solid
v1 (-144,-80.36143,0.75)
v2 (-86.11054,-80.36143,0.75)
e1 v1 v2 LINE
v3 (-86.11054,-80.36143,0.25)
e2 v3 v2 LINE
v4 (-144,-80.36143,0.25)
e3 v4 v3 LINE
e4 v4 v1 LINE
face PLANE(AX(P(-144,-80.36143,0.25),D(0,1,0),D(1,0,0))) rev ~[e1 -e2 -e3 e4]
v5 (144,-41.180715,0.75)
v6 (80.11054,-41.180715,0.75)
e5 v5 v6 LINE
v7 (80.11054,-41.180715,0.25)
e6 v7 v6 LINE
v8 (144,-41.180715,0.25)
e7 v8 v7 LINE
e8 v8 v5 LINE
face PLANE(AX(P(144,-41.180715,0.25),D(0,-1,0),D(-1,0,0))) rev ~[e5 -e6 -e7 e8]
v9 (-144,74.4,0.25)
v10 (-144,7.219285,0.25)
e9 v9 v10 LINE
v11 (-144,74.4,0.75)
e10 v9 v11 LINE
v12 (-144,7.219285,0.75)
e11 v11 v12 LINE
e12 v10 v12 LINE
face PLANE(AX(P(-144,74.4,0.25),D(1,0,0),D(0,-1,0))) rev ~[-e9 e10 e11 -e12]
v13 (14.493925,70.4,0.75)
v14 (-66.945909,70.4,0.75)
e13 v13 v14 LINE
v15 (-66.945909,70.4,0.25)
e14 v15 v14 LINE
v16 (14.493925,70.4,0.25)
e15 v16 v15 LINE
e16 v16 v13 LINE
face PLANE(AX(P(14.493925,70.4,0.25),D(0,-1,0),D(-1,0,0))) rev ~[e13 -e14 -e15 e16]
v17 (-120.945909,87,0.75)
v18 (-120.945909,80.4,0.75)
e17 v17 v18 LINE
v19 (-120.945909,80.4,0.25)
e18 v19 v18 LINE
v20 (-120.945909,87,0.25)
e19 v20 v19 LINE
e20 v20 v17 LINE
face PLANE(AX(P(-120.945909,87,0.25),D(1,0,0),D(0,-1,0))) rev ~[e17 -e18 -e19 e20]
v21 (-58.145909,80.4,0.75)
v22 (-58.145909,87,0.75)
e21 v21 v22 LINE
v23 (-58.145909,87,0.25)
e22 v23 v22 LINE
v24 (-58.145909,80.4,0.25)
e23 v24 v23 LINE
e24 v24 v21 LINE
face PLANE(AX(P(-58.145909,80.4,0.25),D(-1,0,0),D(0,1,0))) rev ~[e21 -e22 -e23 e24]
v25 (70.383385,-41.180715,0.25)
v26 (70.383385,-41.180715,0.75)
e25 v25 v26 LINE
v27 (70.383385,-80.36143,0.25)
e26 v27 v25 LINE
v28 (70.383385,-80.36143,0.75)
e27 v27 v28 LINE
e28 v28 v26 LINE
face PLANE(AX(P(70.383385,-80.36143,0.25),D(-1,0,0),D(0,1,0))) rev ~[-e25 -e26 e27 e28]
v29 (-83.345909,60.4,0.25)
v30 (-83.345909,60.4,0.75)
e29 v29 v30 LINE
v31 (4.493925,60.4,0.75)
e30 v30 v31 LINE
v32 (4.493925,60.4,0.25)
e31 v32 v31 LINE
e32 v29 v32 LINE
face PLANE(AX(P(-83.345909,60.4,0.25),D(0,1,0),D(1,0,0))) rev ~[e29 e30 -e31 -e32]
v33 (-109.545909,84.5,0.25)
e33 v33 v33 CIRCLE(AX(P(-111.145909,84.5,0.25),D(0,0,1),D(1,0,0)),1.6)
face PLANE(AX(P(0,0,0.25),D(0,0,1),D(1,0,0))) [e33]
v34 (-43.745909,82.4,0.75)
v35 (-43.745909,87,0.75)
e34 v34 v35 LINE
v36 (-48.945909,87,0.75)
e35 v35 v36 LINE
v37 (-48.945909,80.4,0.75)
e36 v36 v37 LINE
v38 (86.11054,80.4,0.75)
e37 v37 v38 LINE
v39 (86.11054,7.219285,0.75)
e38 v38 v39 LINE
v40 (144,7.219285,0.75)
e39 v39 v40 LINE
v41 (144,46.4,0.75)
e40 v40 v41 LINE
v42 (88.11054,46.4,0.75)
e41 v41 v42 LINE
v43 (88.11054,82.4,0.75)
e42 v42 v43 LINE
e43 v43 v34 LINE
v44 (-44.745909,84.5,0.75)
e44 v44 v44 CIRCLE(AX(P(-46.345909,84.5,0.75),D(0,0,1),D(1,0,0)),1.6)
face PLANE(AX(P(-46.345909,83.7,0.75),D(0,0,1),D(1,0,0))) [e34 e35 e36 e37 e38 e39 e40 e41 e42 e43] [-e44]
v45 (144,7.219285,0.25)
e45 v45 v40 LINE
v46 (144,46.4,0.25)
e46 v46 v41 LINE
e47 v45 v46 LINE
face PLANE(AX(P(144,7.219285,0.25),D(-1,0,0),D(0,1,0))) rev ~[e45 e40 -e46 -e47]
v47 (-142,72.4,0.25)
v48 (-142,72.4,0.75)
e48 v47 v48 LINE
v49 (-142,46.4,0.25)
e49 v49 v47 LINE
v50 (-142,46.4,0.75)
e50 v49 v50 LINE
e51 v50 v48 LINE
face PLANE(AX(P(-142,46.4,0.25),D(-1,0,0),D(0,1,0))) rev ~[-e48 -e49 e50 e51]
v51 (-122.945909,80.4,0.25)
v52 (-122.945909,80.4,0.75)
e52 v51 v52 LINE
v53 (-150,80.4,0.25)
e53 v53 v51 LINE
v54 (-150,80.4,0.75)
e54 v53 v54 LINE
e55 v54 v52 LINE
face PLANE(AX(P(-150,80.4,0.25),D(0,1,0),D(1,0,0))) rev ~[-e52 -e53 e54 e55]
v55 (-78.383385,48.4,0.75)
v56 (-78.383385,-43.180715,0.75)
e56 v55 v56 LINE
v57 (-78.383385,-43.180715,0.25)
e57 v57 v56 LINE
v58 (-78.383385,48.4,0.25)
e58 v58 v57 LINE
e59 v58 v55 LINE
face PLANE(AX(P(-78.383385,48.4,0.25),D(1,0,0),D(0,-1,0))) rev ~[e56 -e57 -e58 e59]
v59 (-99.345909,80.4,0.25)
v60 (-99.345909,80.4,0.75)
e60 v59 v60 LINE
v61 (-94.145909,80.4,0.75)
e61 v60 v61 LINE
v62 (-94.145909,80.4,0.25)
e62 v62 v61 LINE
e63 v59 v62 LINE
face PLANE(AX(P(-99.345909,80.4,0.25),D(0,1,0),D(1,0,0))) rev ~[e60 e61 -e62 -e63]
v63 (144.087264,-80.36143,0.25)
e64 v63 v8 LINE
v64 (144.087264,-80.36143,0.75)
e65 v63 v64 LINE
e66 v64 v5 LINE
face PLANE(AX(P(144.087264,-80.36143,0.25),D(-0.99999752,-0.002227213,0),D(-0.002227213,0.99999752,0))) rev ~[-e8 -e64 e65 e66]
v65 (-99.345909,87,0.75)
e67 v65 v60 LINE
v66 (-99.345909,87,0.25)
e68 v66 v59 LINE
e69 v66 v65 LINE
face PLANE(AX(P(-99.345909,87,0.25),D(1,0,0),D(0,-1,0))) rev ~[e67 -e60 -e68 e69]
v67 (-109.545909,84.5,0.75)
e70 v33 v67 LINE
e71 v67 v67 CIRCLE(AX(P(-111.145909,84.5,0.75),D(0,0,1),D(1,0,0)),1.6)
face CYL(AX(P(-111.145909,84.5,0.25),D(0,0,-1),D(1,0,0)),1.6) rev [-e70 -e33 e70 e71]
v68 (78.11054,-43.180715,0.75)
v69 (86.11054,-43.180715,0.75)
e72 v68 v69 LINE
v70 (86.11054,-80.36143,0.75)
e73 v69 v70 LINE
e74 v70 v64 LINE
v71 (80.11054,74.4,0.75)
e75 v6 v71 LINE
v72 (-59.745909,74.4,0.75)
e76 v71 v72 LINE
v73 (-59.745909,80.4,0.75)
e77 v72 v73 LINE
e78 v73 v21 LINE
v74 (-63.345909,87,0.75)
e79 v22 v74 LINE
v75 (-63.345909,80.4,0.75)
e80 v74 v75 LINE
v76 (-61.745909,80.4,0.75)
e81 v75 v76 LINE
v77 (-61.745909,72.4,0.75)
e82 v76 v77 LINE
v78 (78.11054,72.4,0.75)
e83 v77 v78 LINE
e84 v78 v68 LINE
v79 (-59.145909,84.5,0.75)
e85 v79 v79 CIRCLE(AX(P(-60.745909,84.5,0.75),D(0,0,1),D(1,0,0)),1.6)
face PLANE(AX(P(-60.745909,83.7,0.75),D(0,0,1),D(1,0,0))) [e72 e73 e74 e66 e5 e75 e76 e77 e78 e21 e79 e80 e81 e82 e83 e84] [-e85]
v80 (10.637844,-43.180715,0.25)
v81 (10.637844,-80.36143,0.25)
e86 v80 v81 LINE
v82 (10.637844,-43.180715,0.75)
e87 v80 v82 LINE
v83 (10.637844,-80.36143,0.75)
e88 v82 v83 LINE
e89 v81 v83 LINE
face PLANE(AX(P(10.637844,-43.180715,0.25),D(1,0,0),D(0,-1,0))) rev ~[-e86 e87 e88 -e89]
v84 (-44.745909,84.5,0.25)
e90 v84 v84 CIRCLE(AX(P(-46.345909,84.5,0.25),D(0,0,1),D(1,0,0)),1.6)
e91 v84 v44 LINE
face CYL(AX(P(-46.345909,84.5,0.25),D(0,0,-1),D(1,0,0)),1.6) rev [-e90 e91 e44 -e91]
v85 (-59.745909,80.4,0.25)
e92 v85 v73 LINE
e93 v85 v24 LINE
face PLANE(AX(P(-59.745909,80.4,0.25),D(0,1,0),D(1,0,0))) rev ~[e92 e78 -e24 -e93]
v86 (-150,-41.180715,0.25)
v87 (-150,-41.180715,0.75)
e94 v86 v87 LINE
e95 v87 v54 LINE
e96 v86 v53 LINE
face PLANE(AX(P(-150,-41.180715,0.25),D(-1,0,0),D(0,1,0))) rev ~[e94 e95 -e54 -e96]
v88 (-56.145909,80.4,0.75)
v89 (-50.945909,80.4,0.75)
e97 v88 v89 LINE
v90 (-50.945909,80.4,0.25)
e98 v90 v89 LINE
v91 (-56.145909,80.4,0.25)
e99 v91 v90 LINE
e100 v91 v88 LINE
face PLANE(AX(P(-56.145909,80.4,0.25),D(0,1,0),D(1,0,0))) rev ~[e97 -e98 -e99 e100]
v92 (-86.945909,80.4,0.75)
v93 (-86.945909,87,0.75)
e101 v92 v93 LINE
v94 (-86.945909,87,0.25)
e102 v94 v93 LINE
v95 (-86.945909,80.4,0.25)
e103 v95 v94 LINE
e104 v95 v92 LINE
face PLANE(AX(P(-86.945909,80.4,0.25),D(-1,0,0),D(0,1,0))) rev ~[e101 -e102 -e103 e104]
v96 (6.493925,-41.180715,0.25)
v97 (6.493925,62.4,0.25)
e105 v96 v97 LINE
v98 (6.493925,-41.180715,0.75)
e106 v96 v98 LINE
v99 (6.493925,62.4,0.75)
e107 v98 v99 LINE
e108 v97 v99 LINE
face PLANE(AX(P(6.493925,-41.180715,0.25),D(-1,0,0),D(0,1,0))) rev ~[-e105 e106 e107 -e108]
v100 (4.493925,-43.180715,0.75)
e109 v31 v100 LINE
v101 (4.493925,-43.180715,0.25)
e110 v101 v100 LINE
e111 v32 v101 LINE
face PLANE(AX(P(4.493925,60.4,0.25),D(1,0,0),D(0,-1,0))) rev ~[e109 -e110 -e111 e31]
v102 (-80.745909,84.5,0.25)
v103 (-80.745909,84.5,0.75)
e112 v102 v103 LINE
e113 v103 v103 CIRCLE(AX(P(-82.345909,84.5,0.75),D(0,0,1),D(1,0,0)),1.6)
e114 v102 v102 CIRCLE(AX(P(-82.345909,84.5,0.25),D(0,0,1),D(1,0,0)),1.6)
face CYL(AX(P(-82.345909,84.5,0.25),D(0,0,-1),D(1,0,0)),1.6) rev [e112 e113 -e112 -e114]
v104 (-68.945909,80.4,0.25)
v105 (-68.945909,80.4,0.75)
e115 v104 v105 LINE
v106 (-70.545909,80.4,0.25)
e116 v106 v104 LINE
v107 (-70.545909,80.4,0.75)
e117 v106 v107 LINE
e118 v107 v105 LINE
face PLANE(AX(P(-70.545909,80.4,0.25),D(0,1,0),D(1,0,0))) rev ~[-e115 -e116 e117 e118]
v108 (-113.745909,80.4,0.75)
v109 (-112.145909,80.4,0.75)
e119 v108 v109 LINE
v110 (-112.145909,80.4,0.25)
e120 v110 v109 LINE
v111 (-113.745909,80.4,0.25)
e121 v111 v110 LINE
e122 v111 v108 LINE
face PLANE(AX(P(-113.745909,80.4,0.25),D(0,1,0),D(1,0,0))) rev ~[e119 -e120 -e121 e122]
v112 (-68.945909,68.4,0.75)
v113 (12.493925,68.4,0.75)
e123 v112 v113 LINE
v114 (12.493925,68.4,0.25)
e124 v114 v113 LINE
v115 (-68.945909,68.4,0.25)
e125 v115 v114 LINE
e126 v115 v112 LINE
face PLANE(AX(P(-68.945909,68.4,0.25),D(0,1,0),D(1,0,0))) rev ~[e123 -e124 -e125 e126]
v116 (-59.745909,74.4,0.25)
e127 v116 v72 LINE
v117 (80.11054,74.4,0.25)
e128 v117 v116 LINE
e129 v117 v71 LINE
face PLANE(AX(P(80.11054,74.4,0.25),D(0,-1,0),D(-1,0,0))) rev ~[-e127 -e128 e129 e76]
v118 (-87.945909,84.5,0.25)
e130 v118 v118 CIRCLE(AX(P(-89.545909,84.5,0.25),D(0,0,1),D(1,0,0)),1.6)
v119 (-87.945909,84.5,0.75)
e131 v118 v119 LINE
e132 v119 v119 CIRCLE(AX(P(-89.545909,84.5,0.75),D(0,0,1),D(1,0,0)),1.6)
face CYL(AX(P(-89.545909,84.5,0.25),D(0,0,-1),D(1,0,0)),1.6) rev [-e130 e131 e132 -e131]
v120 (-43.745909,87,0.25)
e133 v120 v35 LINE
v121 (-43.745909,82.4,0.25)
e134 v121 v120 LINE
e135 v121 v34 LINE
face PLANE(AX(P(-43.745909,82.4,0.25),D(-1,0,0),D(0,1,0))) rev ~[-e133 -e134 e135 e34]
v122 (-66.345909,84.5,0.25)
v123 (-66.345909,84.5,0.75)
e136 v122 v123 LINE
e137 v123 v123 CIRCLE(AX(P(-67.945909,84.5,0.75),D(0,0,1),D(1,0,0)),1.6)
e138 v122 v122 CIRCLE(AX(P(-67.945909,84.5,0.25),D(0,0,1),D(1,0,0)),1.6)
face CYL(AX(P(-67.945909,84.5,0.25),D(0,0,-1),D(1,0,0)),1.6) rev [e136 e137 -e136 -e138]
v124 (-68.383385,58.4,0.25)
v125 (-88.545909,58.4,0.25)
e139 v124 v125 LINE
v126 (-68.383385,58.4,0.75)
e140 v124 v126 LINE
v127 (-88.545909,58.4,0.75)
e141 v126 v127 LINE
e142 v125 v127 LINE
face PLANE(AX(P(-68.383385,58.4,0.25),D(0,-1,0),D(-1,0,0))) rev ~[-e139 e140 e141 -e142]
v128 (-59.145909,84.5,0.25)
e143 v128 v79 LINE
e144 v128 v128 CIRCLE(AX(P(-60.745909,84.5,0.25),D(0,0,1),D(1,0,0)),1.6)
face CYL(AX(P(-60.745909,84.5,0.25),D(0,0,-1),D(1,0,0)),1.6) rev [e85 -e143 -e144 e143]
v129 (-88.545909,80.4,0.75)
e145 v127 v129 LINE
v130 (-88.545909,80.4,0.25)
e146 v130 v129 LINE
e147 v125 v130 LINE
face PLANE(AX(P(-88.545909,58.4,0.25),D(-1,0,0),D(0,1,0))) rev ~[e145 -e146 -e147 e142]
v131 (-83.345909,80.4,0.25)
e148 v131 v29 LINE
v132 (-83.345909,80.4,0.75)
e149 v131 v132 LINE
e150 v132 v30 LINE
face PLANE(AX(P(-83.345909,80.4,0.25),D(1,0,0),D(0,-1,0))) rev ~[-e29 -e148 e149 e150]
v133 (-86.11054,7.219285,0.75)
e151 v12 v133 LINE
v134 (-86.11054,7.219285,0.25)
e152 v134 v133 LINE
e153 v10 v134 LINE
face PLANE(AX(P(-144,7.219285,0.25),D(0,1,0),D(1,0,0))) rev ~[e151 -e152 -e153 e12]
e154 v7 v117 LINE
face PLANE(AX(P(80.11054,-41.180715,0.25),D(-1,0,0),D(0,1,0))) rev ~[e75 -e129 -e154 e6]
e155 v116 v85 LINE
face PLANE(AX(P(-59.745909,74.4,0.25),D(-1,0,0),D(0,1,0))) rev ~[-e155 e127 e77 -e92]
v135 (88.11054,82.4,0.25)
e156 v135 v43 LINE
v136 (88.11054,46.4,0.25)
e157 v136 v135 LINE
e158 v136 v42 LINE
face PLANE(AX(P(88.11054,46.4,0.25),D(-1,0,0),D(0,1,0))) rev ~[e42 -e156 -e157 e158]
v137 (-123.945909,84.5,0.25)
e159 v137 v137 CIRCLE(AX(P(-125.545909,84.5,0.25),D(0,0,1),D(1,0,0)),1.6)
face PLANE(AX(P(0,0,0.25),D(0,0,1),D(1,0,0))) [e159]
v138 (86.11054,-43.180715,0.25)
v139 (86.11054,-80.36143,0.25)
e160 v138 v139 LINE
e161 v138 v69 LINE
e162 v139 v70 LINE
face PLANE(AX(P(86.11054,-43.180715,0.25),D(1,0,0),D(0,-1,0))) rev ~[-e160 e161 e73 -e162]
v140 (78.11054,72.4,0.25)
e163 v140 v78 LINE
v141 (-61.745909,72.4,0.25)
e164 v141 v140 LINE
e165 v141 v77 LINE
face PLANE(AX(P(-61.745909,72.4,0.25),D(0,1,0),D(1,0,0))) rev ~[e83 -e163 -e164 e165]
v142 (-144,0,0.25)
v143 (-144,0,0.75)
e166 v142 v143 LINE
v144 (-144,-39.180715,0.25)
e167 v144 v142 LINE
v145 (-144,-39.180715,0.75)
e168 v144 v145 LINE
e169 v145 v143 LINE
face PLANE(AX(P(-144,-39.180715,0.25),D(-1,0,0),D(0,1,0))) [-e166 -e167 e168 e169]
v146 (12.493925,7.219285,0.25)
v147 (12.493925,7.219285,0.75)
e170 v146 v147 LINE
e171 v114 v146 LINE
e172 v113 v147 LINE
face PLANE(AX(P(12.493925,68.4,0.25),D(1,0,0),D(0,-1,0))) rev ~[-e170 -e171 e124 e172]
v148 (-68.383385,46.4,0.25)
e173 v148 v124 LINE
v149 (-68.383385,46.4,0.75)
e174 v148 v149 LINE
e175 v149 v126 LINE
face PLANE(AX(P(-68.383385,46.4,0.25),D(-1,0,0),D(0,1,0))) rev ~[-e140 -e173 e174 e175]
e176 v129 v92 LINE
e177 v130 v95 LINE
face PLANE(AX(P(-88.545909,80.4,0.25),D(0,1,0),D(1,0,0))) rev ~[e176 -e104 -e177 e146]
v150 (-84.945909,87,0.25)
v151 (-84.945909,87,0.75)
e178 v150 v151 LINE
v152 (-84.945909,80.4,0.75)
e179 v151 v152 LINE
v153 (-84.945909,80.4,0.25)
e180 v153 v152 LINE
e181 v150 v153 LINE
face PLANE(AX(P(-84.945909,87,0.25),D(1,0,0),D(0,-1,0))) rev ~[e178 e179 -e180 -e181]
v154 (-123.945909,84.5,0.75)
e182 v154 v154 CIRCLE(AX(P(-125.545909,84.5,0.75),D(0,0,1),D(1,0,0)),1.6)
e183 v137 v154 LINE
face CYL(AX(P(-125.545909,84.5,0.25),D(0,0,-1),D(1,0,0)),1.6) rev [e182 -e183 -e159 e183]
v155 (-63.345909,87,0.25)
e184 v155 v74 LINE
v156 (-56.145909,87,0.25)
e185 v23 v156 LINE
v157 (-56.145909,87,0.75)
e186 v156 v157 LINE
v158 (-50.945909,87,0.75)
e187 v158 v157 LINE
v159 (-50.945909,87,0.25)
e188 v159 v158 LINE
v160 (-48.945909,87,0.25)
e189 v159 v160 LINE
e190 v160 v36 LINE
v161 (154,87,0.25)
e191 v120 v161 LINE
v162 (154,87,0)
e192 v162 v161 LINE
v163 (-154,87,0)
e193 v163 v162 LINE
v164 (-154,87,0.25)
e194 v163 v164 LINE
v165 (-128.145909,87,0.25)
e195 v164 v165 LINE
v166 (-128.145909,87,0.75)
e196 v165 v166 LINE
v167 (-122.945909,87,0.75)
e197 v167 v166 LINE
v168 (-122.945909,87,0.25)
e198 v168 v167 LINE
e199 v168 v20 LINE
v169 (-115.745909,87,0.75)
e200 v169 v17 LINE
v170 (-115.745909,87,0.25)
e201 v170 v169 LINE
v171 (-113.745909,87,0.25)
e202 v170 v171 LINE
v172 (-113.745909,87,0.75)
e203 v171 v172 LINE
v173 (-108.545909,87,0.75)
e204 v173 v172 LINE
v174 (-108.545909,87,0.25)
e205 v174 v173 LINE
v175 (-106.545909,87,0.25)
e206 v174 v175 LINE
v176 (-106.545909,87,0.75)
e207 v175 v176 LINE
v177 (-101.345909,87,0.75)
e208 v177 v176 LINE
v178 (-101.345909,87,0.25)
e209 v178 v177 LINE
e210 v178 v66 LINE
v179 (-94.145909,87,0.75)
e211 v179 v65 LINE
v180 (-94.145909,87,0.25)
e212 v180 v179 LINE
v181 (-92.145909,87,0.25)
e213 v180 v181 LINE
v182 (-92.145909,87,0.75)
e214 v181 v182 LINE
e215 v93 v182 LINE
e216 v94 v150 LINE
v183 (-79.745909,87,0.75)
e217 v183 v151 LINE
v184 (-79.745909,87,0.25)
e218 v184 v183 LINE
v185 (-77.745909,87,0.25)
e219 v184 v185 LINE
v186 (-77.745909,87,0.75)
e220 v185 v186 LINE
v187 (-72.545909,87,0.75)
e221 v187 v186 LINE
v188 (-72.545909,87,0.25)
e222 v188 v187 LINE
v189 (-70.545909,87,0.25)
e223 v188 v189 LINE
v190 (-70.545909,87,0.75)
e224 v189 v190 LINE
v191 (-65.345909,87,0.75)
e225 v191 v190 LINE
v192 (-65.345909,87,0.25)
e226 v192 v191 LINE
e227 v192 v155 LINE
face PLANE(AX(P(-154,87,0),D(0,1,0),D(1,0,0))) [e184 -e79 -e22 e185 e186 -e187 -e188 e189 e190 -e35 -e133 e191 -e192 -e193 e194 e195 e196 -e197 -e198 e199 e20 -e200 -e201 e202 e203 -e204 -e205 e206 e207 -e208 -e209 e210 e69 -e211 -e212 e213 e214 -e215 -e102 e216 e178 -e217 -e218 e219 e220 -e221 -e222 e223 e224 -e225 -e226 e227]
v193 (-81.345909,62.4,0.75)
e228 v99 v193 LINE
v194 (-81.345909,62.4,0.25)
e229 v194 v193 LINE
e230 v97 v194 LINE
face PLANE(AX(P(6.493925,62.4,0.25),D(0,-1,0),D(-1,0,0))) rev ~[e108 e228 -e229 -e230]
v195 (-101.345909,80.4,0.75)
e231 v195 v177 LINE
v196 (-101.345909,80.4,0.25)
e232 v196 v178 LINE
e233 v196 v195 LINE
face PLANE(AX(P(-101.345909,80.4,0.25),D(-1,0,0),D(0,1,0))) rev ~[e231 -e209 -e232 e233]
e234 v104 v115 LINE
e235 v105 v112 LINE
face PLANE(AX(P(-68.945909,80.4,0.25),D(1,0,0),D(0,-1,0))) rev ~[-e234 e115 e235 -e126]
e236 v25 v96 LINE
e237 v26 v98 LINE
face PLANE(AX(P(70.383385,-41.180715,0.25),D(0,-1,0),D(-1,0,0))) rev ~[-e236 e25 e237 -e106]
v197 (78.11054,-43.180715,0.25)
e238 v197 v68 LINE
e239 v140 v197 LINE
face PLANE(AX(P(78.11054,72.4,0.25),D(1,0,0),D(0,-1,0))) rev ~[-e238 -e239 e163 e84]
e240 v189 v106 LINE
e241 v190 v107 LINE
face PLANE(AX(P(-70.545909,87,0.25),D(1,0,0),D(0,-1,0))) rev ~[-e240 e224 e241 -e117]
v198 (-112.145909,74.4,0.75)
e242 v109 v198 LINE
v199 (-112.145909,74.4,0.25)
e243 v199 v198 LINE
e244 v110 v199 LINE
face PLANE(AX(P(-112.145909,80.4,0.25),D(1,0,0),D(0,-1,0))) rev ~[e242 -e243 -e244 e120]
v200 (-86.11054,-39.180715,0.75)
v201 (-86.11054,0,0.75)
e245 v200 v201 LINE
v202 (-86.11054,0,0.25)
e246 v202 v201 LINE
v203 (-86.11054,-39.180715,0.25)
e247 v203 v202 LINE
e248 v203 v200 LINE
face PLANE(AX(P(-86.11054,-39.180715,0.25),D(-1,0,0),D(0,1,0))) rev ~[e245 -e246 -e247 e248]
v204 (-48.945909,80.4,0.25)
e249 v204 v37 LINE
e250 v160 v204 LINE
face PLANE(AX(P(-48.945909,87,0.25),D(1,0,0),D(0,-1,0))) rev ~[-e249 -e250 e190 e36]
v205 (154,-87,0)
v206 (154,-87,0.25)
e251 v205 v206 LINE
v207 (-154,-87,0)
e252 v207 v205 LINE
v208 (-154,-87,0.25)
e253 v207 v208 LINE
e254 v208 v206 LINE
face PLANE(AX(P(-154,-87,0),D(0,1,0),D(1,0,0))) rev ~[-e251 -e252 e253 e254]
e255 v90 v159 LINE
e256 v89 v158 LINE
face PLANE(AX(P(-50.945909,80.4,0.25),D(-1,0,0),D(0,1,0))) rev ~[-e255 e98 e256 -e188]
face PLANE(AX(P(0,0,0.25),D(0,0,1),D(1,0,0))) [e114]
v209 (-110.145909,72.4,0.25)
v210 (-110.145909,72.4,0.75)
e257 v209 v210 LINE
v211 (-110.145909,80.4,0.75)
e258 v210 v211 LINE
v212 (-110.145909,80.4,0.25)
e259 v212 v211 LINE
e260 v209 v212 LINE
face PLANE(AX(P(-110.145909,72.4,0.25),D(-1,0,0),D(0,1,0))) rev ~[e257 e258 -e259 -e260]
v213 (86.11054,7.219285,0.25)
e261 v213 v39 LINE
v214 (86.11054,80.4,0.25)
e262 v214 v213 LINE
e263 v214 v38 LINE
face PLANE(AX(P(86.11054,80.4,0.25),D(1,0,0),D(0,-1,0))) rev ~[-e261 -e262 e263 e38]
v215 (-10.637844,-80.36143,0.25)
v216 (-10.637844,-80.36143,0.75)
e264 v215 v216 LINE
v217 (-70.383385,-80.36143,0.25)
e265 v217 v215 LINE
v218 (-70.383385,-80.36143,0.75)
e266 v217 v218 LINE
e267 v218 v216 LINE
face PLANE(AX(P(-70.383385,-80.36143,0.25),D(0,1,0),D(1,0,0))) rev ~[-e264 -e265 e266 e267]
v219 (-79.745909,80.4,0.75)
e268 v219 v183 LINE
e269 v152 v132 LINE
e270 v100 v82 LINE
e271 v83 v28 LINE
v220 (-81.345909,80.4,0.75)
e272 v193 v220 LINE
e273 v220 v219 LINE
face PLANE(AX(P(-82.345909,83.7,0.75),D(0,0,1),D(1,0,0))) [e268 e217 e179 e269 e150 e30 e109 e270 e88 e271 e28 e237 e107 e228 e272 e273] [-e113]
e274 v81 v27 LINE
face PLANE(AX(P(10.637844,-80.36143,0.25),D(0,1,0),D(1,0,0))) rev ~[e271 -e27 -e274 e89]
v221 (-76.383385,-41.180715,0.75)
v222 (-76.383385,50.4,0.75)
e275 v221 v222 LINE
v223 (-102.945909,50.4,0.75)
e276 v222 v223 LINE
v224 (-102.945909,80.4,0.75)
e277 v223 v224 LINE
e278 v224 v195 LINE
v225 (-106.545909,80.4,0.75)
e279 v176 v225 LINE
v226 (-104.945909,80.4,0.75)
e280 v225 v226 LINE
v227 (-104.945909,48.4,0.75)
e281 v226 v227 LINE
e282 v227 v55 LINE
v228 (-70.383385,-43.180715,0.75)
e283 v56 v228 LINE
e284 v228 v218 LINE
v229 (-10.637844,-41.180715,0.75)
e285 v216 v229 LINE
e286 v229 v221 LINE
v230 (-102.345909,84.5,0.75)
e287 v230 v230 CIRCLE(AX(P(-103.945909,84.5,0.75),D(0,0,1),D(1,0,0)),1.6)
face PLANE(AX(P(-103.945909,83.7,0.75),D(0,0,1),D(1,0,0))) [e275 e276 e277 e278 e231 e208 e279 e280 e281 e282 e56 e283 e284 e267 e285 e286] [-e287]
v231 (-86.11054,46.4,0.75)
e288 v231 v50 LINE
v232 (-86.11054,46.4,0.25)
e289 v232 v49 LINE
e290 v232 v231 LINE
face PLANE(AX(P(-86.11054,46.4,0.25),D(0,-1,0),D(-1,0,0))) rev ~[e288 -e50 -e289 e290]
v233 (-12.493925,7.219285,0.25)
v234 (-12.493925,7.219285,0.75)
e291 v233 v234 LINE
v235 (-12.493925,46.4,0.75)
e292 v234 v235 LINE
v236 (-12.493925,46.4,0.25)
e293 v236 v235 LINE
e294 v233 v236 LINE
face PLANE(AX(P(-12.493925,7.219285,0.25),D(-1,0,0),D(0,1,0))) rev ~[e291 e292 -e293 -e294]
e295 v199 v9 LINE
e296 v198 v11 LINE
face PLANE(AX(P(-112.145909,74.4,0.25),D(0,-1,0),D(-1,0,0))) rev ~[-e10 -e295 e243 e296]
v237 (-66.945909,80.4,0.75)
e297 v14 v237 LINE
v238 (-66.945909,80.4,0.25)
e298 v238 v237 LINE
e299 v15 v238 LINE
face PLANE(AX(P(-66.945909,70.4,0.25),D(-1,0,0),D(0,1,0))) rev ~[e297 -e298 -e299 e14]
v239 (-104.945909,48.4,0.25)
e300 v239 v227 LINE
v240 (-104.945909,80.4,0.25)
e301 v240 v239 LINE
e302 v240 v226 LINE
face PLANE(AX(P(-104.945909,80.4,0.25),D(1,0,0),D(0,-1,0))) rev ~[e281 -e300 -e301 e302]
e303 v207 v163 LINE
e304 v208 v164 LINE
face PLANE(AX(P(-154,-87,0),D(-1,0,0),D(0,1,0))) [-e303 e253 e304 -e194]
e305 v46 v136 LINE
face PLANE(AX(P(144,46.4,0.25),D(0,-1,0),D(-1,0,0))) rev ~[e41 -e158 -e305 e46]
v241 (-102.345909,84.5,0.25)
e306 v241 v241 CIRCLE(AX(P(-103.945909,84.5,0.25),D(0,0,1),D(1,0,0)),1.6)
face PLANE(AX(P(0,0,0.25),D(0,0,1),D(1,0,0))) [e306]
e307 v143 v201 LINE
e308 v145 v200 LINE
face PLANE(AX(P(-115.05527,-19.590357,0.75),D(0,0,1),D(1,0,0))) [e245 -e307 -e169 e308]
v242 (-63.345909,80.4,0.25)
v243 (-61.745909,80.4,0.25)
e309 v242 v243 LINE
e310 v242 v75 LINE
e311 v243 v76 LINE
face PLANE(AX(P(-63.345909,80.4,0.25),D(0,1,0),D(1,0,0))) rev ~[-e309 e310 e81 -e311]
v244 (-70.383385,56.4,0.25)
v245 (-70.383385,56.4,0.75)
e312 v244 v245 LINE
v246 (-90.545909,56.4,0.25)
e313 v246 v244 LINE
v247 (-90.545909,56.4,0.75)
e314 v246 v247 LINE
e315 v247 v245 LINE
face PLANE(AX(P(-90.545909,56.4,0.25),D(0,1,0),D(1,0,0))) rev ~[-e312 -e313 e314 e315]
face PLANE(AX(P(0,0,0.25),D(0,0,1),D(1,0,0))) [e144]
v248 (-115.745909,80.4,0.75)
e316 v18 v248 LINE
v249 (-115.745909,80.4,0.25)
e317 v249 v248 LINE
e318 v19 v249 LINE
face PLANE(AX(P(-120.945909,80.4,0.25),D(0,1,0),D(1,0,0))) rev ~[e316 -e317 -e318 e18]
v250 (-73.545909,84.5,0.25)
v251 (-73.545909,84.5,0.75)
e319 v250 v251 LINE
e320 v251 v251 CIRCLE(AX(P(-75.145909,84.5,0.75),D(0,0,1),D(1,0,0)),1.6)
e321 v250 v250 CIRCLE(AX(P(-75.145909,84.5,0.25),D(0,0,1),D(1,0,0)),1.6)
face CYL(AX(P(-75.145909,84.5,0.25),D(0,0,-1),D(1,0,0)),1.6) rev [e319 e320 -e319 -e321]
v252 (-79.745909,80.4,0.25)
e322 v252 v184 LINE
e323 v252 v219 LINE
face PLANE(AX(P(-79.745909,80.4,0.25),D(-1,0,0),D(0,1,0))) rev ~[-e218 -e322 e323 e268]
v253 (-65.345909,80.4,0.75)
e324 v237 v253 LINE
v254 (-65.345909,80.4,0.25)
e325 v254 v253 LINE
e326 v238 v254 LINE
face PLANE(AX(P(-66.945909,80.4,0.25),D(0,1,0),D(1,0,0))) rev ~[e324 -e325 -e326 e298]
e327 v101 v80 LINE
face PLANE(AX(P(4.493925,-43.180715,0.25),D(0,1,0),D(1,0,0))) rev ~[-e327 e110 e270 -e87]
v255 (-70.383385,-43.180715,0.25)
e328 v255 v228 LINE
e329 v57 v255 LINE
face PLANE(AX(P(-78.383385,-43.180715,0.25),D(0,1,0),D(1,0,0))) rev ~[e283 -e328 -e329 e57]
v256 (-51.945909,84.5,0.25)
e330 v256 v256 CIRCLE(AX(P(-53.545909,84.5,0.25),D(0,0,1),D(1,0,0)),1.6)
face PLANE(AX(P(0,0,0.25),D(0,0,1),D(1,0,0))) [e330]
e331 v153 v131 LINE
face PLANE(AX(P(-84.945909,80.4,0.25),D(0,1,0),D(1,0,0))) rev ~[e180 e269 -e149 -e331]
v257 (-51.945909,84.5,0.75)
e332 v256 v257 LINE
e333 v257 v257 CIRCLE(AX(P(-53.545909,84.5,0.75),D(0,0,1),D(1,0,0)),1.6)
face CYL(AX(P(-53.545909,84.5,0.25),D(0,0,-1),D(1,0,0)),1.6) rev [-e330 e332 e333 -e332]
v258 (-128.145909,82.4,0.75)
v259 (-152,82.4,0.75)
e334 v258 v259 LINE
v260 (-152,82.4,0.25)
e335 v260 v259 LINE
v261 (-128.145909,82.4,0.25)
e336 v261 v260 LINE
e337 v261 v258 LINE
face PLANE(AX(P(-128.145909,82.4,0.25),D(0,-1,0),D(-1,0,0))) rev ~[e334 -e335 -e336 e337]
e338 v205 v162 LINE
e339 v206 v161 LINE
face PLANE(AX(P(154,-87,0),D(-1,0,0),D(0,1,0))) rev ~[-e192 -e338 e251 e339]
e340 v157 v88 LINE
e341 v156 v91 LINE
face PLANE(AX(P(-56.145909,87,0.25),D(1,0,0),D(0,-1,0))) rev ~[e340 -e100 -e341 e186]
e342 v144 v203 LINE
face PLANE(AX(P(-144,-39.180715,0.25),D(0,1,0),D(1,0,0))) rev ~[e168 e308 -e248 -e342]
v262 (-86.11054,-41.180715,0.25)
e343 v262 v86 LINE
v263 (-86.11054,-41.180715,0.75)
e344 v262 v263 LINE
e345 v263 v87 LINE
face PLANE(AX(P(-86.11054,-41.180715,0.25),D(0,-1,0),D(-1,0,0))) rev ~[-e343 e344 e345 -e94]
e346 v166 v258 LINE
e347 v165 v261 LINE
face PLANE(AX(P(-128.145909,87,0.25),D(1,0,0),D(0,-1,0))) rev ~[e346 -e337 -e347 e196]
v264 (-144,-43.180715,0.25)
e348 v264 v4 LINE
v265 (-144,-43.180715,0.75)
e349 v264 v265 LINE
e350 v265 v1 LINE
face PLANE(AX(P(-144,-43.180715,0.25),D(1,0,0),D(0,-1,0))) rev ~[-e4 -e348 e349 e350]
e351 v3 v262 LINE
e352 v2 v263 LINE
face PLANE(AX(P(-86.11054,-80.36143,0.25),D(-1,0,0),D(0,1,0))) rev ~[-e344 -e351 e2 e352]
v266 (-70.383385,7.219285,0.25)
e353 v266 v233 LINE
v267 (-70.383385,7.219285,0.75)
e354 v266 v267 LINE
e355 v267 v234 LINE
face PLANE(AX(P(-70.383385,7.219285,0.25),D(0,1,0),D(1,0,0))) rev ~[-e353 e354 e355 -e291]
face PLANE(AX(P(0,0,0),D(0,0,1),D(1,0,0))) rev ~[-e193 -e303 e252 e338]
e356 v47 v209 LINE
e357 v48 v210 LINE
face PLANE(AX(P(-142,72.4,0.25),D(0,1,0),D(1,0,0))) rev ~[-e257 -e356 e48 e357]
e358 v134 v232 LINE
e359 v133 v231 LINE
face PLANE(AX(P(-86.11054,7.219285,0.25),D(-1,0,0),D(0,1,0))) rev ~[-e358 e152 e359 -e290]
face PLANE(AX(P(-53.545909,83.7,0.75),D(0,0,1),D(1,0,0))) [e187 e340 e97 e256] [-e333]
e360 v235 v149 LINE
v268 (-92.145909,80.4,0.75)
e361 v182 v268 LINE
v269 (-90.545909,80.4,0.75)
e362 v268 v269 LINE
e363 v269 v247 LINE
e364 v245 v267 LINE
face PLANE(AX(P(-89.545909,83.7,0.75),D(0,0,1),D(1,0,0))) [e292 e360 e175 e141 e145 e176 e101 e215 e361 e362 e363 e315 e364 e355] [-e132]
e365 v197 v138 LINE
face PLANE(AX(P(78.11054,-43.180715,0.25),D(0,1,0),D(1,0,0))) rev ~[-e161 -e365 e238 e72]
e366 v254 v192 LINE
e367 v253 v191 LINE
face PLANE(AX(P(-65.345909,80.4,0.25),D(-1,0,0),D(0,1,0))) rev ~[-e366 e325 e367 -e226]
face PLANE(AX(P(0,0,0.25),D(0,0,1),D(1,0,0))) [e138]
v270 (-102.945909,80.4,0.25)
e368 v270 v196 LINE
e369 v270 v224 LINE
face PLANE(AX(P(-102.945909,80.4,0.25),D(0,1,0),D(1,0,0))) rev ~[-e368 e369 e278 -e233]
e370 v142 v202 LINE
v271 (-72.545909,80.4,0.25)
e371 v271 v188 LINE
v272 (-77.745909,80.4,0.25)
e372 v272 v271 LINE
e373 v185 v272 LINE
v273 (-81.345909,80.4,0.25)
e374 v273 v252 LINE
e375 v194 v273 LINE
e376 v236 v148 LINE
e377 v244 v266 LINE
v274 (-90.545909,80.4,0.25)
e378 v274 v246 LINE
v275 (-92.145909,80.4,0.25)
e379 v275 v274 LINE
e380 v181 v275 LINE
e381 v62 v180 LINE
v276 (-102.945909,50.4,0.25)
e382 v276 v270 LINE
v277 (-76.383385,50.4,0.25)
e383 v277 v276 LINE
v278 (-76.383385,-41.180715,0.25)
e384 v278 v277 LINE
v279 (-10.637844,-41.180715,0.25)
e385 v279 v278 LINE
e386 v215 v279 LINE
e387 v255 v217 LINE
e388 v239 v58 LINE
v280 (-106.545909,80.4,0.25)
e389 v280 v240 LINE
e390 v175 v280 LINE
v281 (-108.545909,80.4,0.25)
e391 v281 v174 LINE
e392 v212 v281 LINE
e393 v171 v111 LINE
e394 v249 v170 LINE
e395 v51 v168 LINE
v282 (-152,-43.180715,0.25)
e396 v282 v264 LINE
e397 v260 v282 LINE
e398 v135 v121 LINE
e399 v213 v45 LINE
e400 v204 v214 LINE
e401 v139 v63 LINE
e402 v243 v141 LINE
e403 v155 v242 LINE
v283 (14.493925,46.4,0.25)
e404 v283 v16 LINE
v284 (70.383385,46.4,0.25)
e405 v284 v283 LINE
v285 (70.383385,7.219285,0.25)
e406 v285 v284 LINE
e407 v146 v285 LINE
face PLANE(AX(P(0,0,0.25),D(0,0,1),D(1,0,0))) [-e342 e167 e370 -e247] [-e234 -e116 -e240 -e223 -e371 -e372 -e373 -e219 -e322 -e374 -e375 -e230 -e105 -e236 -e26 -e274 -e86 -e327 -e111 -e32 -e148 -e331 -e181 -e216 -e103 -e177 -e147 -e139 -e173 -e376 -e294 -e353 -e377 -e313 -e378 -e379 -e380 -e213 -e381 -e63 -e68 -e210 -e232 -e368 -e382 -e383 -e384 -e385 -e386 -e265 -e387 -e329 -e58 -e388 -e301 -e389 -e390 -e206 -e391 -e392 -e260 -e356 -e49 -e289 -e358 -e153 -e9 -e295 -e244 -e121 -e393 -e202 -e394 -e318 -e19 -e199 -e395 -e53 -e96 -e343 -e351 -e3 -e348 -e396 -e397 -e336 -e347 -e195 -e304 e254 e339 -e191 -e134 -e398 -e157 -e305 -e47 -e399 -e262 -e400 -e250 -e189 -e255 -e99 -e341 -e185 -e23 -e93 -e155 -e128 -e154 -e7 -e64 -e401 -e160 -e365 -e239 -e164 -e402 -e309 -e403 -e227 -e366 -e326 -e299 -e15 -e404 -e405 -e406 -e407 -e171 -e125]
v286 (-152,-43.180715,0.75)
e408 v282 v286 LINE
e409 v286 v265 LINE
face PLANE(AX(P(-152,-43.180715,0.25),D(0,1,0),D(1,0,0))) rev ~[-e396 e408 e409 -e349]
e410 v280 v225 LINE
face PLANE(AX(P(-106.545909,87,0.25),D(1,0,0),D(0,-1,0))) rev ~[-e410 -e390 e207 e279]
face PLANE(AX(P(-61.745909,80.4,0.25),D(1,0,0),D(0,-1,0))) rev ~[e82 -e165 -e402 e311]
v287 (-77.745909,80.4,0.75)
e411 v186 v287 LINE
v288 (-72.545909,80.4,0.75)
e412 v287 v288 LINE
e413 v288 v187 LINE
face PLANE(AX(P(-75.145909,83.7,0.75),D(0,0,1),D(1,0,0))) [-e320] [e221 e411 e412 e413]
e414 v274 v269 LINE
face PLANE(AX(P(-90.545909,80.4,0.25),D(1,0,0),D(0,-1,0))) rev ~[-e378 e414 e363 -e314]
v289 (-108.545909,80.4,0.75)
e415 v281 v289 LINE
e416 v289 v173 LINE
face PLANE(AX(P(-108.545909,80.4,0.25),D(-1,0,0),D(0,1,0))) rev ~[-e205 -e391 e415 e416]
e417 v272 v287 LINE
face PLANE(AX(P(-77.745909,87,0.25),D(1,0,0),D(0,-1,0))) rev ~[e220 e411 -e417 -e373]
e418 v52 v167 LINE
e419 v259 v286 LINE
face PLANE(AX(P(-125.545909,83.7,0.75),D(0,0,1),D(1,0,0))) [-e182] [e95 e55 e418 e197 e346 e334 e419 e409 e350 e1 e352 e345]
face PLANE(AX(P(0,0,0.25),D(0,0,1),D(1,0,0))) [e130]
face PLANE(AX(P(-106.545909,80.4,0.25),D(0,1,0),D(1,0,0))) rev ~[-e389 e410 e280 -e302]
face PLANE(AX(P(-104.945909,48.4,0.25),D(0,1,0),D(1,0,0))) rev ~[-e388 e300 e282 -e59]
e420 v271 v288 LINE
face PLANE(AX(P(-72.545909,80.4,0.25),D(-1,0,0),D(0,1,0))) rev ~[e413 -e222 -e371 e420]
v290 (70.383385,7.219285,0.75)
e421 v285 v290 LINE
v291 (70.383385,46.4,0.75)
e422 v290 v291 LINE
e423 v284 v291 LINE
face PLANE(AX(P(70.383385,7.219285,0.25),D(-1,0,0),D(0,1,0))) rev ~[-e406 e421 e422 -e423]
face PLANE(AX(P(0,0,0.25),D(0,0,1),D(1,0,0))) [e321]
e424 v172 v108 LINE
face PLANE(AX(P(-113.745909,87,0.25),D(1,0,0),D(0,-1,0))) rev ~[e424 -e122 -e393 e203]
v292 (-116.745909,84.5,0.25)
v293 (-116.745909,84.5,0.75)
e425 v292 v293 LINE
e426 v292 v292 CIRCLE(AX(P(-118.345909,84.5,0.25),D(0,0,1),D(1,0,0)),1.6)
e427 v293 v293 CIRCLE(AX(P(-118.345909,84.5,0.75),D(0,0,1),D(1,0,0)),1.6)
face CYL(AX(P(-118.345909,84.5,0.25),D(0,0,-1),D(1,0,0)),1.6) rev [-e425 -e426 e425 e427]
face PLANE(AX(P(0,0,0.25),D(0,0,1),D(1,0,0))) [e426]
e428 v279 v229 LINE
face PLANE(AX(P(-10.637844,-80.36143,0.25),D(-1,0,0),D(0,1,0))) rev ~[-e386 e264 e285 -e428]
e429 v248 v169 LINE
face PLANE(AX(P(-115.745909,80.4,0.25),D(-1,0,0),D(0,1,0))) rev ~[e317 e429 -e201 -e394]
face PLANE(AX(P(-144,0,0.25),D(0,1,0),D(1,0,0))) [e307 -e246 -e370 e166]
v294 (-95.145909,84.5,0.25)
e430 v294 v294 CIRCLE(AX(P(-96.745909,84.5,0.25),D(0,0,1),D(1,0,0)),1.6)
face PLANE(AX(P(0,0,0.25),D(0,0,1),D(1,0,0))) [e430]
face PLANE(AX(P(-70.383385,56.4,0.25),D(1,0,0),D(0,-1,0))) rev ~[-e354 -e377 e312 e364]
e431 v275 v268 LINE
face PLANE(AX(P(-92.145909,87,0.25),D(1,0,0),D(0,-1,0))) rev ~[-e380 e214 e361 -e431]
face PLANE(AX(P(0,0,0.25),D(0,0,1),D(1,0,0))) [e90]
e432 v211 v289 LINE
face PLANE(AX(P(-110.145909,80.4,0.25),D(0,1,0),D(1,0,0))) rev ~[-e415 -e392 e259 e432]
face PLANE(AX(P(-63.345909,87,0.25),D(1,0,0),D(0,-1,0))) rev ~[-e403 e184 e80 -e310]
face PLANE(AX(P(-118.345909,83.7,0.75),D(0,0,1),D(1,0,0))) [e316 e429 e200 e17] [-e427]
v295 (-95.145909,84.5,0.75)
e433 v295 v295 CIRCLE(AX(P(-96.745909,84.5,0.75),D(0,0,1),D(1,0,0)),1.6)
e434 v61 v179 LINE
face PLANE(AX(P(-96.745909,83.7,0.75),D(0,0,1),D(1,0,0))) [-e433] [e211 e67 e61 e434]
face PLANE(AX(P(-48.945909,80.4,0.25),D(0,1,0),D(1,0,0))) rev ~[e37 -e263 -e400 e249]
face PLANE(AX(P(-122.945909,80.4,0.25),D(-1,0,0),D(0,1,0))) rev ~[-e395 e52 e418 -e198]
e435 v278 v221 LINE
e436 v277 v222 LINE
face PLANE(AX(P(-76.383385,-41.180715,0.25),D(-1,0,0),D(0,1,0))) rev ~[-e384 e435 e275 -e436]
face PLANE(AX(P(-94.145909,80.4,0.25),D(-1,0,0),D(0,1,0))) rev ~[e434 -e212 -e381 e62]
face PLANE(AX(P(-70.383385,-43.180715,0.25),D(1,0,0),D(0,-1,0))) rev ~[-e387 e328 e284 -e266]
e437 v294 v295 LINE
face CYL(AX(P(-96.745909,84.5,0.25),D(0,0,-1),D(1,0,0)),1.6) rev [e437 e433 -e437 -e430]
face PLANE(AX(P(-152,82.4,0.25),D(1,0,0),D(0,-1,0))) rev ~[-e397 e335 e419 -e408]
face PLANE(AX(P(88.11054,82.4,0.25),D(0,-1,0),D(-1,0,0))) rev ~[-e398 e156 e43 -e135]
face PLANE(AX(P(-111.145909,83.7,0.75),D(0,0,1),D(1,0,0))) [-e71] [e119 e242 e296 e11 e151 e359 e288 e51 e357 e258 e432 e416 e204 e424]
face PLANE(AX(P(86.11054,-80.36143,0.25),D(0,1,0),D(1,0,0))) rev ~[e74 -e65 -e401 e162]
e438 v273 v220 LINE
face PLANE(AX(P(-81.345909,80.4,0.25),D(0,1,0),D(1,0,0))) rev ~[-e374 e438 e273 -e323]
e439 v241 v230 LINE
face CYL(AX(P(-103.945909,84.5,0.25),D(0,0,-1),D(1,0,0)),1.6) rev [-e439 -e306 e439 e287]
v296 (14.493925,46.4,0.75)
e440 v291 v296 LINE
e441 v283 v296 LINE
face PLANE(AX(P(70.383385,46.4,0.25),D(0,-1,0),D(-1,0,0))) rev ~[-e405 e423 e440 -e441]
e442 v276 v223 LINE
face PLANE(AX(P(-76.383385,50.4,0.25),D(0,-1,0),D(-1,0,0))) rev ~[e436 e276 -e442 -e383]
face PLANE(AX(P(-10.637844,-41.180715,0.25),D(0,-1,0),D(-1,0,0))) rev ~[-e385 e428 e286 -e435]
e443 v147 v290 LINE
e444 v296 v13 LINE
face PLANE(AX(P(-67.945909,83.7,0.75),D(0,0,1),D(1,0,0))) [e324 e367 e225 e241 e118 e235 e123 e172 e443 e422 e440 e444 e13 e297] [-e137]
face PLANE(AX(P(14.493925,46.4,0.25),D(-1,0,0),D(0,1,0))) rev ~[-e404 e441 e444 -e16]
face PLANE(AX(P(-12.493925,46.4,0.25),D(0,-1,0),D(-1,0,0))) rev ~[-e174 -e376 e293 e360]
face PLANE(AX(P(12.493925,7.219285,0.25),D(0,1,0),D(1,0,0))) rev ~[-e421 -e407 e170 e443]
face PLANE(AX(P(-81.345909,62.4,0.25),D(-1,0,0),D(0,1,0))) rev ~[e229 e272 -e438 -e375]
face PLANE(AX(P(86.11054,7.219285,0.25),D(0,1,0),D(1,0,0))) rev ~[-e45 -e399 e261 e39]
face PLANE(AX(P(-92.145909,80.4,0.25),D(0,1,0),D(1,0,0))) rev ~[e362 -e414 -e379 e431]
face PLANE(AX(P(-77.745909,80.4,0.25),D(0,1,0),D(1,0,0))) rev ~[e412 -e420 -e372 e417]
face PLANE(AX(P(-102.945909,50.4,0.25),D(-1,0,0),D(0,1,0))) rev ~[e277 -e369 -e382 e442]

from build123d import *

# Parameters (mm, degrees)
F0_W     = 308
F0_H     = 174
F1_DEPTH = 0.25
F2_R     = 1.6
F2_W     = 57.88946
F2_H     = 39.180715
F3_DEPTH = 0.5


with BuildPart() as f1:
    # F0 (on Top) → F1 (new body)
    with BuildSketch(Plane.XY):
        Rectangle(F0_W, F0_H)
    extrude(amount=F1_DEPTH)

    # F2 (on face) → F3 (join)
    with BuildSketch(Plane.XY.offset(0.25)):
        Polygon((-86.945909, 80.4), (-86.945909, 87), (-92.145909, 87), (-92.145909, 80.4), (-90.545909, 80.4), (-88.545909, 80.4), align=None)
        with Locations((-89.545909, 84.5)):
            Circle(F2_R, mode=Mode.SUBTRACT)
        Polygon((-88.545909, 58.4), (-88.545909, 80.4), (-90.545909, 80.4), (-90.545909, 56.4), (-70.383385, 56.4), (-70.383385, 46.4), (-68.383385, 46.4), (-68.383385, 58.4), align=None)
        Polygon((-12.493925, 46.4), (-68.383385, 46.4), (-70.383385, 46.4), (-70.383385, 7.219285), (-12.493925, 7.219285), align=None)
        Polygon((-94.145909, 87), (-99.345909, 87), (-99.345909, 80.4), (-97.745909, 80.4), (-95.745909, 80.4), (-94.145909, 80.4), align=None)
        with Locations((-96.745909, 84.5)):
            Circle(F2_R, mode=Mode.SUBTRACT)
        Polygon((-101.345909, 87), (-106.545909, 87), (-106.545909, 80.4), (-104.945909, 80.4), (-102.945909, 80.4), (-101.345909, 80.4), align=None)
        with Locations((-103.945909, 84.5)):
            Circle(F2_R, mode=Mode.SUBTRACT)
        Polygon((-102.945909, 80.4), (-104.945909, 80.4), (-104.945909, 48.4), (-78.383385, 48.4), (-78.383385, -43.180715), (-70.383385, -43.180715), (-70.383385, -41.180715), (-76.383385, -41.180715), (-76.383385, 50.4), (-102.945909, 50.4), align=None)
        Polygon((-70.383385, -41.180715), (-70.383385, -43.180715), (-70.383385, -80.36143), (-10.637844, -80.36143), (-10.637844, -41.180715), align=None)
        Polygon((-108.545909, 87), (-113.745909, 87), (-113.745909, 80.4), (-112.145909, 80.4), (-110.145909, 80.4), (-108.545909, 80.4), align=None)
        with Locations((-111.145909, 84.5)):
            Circle(F2_R, mode=Mode.SUBTRACT)
        Polygon((-110.145909, 80.4), (-112.145909, 80.4), (-112.145909, 74.4), (-144, 74.4), (-144, 46.4), (-142, 46.4), (-142, 72.4), (-110.145909, 72.4), align=None)
        Polygon((-142, 46.4), (-144, 46.4), (-144, 7.219285), (-86.11054, 7.219285), (-86.11054, 46.4), align=None)
        Polygon((-115.745909, 87), (-120.945909, 87), (-120.945909, 80.4), (-119.345909, 80.4), (-117.345909, 80.4), (-115.745909, 80.4), align=None)
        with Locations((-118.345909, 84.5)):
            Circle(F2_R, mode=Mode.SUBTRACT)
        Polygon((-122.945909, 87), (-128.145909, 87), (-128.145909, 82.4), (-128.145909, 80.4), (-122.945909, 80.4), align=None)
        with Locations((-125.545909, 84.5)):
            Circle(F2_R, mode=Mode.SUBTRACT)
        Polygon((-128.145909, 80.4), (-128.145909, 82.4), (-152, 82.4), (-152, -43.180715), (-144, -43.180715), (-144, -41.180715), (-150, -41.180715), (-150, 80.4), align=None)
        Polygon((-144, -41.180715), (-144, -43.180715), (-144, -80.36143), (-86.11054, -80.36143), (-86.11054, -41.180715), align=None)
        Polygon((-81.345909, 80.4), (-79.745909, 80.4), (-79.745909, 87), (-84.945909, 87), (-84.945909, 80.4), (-83.345909, 80.4), align=None)
        with Locations((-82.345909, 84.5)):
            Circle(F2_R, mode=Mode.SUBTRACT)
        Polygon((-81.345909, 62.4), (-81.345909, 80.4), (-83.345909, 80.4), (-83.345909, 60.4), (4.493925, 60.4), (4.493925, -43.180715), (10.637844, -43.180715), (10.637844, -41.180715), (6.493925, -41.180715), (6.493925, 62.4), align=None)
        Polygon((70.383385, -41.180715), (10.637844, -41.180715), (10.637844, -43.180715), (10.637844, -80.36143), (70.383385, -80.36143), align=None)
        Polygon((-72.545909, 87), (-77.745909, 87), (-77.745909, 80.4), (-76.145909, 80.4), (-74.145909, 80.4), (-72.545909, 80.4), align=None)
        with Locations((-75.145909, 84.5)):
            Circle(F2_R, mode=Mode.SUBTRACT)
        Polygon((-65.345909, 87), (-70.545909, 87), (-70.545909, 80.4), (-68.945909, 80.4), (-66.945909, 80.4), (-65.345909, 80.4), align=None)
        with Locations((-67.945909, 84.5)):
            Circle(F2_R, mode=Mode.SUBTRACT)
        Polygon((-66.945909, 80.4), (-68.945909, 80.4), (-68.945909, 68.4), (12.493925, 68.4), (12.493925, 46.4), (14.493925, 46.4), (14.493925, 70.4), (-66.945909, 70.4), align=None)
        Polygon((14.493925, 46.4), (12.493925, 46.4), (12.493925, 7.219285), (70.383385, 7.219285), (70.383385, 46.4), align=None)
        Polygon((-58.145909, 87), (-63.345909, 87), (-63.345909, 80.4), (-61.745909, 80.4), (-59.745909, 80.4), (-58.145909, 80.4), align=None)
        with Locations((-60.745909, 84.5)):
            Circle(F2_R, mode=Mode.SUBTRACT)
        Polygon((-59.745909, 80.4), (-61.745909, 80.4), (-61.745909, 72.4), (78.11054, 72.4), (78.11054, -43.180715), (86.11054, -43.180715), (86.11054, -41.180715), (80.11054, -41.180715), (80.11054, 74.4), (-59.745909, 74.4), align=None)
        Polygon((86.11054, -41.180715), (86.11054, -43.180715), (86.11054, -80.36143), (144.087264, -80.36143), (144, -41.180715), align=None)
        Polygon((-50.945909, 87), (-56.145909, 87), (-56.145909, 80.4), (-54.545909, 80.4), (-52.545909, 80.4), (-50.945909, 80.4), align=None)
        with Locations((-53.545909, 84.5)):
            Circle(F2_R, mode=Mode.SUBTRACT)
        Polygon((-43.745909, 87), (-48.945909, 87), (-48.945909, 80.4), (-43.745909, 80.4), (-43.745909, 82.4), align=None)
        with Locations((-46.345909, 84.5)):
            Circle(F2_R, mode=Mode.SUBTRACT)
        Polygon((-43.745909, 82.4), (-43.745909, 80.4), (86.11054, 80.4), (86.11054, 46.4), (88.11054, 46.4), (88.11054, 82.4), align=None)
        Polygon((88.11054, 46.4), (86.11054, 46.4), (86.11054, 7.219285), (144, 7.219285), (144, 46.4), align=None)
        with Locations((-115.05527, -19.590357)):
            Rectangle(F2_W, F2_H)
    extrude(amount=F3_DEPTH)


solid = f1.part
